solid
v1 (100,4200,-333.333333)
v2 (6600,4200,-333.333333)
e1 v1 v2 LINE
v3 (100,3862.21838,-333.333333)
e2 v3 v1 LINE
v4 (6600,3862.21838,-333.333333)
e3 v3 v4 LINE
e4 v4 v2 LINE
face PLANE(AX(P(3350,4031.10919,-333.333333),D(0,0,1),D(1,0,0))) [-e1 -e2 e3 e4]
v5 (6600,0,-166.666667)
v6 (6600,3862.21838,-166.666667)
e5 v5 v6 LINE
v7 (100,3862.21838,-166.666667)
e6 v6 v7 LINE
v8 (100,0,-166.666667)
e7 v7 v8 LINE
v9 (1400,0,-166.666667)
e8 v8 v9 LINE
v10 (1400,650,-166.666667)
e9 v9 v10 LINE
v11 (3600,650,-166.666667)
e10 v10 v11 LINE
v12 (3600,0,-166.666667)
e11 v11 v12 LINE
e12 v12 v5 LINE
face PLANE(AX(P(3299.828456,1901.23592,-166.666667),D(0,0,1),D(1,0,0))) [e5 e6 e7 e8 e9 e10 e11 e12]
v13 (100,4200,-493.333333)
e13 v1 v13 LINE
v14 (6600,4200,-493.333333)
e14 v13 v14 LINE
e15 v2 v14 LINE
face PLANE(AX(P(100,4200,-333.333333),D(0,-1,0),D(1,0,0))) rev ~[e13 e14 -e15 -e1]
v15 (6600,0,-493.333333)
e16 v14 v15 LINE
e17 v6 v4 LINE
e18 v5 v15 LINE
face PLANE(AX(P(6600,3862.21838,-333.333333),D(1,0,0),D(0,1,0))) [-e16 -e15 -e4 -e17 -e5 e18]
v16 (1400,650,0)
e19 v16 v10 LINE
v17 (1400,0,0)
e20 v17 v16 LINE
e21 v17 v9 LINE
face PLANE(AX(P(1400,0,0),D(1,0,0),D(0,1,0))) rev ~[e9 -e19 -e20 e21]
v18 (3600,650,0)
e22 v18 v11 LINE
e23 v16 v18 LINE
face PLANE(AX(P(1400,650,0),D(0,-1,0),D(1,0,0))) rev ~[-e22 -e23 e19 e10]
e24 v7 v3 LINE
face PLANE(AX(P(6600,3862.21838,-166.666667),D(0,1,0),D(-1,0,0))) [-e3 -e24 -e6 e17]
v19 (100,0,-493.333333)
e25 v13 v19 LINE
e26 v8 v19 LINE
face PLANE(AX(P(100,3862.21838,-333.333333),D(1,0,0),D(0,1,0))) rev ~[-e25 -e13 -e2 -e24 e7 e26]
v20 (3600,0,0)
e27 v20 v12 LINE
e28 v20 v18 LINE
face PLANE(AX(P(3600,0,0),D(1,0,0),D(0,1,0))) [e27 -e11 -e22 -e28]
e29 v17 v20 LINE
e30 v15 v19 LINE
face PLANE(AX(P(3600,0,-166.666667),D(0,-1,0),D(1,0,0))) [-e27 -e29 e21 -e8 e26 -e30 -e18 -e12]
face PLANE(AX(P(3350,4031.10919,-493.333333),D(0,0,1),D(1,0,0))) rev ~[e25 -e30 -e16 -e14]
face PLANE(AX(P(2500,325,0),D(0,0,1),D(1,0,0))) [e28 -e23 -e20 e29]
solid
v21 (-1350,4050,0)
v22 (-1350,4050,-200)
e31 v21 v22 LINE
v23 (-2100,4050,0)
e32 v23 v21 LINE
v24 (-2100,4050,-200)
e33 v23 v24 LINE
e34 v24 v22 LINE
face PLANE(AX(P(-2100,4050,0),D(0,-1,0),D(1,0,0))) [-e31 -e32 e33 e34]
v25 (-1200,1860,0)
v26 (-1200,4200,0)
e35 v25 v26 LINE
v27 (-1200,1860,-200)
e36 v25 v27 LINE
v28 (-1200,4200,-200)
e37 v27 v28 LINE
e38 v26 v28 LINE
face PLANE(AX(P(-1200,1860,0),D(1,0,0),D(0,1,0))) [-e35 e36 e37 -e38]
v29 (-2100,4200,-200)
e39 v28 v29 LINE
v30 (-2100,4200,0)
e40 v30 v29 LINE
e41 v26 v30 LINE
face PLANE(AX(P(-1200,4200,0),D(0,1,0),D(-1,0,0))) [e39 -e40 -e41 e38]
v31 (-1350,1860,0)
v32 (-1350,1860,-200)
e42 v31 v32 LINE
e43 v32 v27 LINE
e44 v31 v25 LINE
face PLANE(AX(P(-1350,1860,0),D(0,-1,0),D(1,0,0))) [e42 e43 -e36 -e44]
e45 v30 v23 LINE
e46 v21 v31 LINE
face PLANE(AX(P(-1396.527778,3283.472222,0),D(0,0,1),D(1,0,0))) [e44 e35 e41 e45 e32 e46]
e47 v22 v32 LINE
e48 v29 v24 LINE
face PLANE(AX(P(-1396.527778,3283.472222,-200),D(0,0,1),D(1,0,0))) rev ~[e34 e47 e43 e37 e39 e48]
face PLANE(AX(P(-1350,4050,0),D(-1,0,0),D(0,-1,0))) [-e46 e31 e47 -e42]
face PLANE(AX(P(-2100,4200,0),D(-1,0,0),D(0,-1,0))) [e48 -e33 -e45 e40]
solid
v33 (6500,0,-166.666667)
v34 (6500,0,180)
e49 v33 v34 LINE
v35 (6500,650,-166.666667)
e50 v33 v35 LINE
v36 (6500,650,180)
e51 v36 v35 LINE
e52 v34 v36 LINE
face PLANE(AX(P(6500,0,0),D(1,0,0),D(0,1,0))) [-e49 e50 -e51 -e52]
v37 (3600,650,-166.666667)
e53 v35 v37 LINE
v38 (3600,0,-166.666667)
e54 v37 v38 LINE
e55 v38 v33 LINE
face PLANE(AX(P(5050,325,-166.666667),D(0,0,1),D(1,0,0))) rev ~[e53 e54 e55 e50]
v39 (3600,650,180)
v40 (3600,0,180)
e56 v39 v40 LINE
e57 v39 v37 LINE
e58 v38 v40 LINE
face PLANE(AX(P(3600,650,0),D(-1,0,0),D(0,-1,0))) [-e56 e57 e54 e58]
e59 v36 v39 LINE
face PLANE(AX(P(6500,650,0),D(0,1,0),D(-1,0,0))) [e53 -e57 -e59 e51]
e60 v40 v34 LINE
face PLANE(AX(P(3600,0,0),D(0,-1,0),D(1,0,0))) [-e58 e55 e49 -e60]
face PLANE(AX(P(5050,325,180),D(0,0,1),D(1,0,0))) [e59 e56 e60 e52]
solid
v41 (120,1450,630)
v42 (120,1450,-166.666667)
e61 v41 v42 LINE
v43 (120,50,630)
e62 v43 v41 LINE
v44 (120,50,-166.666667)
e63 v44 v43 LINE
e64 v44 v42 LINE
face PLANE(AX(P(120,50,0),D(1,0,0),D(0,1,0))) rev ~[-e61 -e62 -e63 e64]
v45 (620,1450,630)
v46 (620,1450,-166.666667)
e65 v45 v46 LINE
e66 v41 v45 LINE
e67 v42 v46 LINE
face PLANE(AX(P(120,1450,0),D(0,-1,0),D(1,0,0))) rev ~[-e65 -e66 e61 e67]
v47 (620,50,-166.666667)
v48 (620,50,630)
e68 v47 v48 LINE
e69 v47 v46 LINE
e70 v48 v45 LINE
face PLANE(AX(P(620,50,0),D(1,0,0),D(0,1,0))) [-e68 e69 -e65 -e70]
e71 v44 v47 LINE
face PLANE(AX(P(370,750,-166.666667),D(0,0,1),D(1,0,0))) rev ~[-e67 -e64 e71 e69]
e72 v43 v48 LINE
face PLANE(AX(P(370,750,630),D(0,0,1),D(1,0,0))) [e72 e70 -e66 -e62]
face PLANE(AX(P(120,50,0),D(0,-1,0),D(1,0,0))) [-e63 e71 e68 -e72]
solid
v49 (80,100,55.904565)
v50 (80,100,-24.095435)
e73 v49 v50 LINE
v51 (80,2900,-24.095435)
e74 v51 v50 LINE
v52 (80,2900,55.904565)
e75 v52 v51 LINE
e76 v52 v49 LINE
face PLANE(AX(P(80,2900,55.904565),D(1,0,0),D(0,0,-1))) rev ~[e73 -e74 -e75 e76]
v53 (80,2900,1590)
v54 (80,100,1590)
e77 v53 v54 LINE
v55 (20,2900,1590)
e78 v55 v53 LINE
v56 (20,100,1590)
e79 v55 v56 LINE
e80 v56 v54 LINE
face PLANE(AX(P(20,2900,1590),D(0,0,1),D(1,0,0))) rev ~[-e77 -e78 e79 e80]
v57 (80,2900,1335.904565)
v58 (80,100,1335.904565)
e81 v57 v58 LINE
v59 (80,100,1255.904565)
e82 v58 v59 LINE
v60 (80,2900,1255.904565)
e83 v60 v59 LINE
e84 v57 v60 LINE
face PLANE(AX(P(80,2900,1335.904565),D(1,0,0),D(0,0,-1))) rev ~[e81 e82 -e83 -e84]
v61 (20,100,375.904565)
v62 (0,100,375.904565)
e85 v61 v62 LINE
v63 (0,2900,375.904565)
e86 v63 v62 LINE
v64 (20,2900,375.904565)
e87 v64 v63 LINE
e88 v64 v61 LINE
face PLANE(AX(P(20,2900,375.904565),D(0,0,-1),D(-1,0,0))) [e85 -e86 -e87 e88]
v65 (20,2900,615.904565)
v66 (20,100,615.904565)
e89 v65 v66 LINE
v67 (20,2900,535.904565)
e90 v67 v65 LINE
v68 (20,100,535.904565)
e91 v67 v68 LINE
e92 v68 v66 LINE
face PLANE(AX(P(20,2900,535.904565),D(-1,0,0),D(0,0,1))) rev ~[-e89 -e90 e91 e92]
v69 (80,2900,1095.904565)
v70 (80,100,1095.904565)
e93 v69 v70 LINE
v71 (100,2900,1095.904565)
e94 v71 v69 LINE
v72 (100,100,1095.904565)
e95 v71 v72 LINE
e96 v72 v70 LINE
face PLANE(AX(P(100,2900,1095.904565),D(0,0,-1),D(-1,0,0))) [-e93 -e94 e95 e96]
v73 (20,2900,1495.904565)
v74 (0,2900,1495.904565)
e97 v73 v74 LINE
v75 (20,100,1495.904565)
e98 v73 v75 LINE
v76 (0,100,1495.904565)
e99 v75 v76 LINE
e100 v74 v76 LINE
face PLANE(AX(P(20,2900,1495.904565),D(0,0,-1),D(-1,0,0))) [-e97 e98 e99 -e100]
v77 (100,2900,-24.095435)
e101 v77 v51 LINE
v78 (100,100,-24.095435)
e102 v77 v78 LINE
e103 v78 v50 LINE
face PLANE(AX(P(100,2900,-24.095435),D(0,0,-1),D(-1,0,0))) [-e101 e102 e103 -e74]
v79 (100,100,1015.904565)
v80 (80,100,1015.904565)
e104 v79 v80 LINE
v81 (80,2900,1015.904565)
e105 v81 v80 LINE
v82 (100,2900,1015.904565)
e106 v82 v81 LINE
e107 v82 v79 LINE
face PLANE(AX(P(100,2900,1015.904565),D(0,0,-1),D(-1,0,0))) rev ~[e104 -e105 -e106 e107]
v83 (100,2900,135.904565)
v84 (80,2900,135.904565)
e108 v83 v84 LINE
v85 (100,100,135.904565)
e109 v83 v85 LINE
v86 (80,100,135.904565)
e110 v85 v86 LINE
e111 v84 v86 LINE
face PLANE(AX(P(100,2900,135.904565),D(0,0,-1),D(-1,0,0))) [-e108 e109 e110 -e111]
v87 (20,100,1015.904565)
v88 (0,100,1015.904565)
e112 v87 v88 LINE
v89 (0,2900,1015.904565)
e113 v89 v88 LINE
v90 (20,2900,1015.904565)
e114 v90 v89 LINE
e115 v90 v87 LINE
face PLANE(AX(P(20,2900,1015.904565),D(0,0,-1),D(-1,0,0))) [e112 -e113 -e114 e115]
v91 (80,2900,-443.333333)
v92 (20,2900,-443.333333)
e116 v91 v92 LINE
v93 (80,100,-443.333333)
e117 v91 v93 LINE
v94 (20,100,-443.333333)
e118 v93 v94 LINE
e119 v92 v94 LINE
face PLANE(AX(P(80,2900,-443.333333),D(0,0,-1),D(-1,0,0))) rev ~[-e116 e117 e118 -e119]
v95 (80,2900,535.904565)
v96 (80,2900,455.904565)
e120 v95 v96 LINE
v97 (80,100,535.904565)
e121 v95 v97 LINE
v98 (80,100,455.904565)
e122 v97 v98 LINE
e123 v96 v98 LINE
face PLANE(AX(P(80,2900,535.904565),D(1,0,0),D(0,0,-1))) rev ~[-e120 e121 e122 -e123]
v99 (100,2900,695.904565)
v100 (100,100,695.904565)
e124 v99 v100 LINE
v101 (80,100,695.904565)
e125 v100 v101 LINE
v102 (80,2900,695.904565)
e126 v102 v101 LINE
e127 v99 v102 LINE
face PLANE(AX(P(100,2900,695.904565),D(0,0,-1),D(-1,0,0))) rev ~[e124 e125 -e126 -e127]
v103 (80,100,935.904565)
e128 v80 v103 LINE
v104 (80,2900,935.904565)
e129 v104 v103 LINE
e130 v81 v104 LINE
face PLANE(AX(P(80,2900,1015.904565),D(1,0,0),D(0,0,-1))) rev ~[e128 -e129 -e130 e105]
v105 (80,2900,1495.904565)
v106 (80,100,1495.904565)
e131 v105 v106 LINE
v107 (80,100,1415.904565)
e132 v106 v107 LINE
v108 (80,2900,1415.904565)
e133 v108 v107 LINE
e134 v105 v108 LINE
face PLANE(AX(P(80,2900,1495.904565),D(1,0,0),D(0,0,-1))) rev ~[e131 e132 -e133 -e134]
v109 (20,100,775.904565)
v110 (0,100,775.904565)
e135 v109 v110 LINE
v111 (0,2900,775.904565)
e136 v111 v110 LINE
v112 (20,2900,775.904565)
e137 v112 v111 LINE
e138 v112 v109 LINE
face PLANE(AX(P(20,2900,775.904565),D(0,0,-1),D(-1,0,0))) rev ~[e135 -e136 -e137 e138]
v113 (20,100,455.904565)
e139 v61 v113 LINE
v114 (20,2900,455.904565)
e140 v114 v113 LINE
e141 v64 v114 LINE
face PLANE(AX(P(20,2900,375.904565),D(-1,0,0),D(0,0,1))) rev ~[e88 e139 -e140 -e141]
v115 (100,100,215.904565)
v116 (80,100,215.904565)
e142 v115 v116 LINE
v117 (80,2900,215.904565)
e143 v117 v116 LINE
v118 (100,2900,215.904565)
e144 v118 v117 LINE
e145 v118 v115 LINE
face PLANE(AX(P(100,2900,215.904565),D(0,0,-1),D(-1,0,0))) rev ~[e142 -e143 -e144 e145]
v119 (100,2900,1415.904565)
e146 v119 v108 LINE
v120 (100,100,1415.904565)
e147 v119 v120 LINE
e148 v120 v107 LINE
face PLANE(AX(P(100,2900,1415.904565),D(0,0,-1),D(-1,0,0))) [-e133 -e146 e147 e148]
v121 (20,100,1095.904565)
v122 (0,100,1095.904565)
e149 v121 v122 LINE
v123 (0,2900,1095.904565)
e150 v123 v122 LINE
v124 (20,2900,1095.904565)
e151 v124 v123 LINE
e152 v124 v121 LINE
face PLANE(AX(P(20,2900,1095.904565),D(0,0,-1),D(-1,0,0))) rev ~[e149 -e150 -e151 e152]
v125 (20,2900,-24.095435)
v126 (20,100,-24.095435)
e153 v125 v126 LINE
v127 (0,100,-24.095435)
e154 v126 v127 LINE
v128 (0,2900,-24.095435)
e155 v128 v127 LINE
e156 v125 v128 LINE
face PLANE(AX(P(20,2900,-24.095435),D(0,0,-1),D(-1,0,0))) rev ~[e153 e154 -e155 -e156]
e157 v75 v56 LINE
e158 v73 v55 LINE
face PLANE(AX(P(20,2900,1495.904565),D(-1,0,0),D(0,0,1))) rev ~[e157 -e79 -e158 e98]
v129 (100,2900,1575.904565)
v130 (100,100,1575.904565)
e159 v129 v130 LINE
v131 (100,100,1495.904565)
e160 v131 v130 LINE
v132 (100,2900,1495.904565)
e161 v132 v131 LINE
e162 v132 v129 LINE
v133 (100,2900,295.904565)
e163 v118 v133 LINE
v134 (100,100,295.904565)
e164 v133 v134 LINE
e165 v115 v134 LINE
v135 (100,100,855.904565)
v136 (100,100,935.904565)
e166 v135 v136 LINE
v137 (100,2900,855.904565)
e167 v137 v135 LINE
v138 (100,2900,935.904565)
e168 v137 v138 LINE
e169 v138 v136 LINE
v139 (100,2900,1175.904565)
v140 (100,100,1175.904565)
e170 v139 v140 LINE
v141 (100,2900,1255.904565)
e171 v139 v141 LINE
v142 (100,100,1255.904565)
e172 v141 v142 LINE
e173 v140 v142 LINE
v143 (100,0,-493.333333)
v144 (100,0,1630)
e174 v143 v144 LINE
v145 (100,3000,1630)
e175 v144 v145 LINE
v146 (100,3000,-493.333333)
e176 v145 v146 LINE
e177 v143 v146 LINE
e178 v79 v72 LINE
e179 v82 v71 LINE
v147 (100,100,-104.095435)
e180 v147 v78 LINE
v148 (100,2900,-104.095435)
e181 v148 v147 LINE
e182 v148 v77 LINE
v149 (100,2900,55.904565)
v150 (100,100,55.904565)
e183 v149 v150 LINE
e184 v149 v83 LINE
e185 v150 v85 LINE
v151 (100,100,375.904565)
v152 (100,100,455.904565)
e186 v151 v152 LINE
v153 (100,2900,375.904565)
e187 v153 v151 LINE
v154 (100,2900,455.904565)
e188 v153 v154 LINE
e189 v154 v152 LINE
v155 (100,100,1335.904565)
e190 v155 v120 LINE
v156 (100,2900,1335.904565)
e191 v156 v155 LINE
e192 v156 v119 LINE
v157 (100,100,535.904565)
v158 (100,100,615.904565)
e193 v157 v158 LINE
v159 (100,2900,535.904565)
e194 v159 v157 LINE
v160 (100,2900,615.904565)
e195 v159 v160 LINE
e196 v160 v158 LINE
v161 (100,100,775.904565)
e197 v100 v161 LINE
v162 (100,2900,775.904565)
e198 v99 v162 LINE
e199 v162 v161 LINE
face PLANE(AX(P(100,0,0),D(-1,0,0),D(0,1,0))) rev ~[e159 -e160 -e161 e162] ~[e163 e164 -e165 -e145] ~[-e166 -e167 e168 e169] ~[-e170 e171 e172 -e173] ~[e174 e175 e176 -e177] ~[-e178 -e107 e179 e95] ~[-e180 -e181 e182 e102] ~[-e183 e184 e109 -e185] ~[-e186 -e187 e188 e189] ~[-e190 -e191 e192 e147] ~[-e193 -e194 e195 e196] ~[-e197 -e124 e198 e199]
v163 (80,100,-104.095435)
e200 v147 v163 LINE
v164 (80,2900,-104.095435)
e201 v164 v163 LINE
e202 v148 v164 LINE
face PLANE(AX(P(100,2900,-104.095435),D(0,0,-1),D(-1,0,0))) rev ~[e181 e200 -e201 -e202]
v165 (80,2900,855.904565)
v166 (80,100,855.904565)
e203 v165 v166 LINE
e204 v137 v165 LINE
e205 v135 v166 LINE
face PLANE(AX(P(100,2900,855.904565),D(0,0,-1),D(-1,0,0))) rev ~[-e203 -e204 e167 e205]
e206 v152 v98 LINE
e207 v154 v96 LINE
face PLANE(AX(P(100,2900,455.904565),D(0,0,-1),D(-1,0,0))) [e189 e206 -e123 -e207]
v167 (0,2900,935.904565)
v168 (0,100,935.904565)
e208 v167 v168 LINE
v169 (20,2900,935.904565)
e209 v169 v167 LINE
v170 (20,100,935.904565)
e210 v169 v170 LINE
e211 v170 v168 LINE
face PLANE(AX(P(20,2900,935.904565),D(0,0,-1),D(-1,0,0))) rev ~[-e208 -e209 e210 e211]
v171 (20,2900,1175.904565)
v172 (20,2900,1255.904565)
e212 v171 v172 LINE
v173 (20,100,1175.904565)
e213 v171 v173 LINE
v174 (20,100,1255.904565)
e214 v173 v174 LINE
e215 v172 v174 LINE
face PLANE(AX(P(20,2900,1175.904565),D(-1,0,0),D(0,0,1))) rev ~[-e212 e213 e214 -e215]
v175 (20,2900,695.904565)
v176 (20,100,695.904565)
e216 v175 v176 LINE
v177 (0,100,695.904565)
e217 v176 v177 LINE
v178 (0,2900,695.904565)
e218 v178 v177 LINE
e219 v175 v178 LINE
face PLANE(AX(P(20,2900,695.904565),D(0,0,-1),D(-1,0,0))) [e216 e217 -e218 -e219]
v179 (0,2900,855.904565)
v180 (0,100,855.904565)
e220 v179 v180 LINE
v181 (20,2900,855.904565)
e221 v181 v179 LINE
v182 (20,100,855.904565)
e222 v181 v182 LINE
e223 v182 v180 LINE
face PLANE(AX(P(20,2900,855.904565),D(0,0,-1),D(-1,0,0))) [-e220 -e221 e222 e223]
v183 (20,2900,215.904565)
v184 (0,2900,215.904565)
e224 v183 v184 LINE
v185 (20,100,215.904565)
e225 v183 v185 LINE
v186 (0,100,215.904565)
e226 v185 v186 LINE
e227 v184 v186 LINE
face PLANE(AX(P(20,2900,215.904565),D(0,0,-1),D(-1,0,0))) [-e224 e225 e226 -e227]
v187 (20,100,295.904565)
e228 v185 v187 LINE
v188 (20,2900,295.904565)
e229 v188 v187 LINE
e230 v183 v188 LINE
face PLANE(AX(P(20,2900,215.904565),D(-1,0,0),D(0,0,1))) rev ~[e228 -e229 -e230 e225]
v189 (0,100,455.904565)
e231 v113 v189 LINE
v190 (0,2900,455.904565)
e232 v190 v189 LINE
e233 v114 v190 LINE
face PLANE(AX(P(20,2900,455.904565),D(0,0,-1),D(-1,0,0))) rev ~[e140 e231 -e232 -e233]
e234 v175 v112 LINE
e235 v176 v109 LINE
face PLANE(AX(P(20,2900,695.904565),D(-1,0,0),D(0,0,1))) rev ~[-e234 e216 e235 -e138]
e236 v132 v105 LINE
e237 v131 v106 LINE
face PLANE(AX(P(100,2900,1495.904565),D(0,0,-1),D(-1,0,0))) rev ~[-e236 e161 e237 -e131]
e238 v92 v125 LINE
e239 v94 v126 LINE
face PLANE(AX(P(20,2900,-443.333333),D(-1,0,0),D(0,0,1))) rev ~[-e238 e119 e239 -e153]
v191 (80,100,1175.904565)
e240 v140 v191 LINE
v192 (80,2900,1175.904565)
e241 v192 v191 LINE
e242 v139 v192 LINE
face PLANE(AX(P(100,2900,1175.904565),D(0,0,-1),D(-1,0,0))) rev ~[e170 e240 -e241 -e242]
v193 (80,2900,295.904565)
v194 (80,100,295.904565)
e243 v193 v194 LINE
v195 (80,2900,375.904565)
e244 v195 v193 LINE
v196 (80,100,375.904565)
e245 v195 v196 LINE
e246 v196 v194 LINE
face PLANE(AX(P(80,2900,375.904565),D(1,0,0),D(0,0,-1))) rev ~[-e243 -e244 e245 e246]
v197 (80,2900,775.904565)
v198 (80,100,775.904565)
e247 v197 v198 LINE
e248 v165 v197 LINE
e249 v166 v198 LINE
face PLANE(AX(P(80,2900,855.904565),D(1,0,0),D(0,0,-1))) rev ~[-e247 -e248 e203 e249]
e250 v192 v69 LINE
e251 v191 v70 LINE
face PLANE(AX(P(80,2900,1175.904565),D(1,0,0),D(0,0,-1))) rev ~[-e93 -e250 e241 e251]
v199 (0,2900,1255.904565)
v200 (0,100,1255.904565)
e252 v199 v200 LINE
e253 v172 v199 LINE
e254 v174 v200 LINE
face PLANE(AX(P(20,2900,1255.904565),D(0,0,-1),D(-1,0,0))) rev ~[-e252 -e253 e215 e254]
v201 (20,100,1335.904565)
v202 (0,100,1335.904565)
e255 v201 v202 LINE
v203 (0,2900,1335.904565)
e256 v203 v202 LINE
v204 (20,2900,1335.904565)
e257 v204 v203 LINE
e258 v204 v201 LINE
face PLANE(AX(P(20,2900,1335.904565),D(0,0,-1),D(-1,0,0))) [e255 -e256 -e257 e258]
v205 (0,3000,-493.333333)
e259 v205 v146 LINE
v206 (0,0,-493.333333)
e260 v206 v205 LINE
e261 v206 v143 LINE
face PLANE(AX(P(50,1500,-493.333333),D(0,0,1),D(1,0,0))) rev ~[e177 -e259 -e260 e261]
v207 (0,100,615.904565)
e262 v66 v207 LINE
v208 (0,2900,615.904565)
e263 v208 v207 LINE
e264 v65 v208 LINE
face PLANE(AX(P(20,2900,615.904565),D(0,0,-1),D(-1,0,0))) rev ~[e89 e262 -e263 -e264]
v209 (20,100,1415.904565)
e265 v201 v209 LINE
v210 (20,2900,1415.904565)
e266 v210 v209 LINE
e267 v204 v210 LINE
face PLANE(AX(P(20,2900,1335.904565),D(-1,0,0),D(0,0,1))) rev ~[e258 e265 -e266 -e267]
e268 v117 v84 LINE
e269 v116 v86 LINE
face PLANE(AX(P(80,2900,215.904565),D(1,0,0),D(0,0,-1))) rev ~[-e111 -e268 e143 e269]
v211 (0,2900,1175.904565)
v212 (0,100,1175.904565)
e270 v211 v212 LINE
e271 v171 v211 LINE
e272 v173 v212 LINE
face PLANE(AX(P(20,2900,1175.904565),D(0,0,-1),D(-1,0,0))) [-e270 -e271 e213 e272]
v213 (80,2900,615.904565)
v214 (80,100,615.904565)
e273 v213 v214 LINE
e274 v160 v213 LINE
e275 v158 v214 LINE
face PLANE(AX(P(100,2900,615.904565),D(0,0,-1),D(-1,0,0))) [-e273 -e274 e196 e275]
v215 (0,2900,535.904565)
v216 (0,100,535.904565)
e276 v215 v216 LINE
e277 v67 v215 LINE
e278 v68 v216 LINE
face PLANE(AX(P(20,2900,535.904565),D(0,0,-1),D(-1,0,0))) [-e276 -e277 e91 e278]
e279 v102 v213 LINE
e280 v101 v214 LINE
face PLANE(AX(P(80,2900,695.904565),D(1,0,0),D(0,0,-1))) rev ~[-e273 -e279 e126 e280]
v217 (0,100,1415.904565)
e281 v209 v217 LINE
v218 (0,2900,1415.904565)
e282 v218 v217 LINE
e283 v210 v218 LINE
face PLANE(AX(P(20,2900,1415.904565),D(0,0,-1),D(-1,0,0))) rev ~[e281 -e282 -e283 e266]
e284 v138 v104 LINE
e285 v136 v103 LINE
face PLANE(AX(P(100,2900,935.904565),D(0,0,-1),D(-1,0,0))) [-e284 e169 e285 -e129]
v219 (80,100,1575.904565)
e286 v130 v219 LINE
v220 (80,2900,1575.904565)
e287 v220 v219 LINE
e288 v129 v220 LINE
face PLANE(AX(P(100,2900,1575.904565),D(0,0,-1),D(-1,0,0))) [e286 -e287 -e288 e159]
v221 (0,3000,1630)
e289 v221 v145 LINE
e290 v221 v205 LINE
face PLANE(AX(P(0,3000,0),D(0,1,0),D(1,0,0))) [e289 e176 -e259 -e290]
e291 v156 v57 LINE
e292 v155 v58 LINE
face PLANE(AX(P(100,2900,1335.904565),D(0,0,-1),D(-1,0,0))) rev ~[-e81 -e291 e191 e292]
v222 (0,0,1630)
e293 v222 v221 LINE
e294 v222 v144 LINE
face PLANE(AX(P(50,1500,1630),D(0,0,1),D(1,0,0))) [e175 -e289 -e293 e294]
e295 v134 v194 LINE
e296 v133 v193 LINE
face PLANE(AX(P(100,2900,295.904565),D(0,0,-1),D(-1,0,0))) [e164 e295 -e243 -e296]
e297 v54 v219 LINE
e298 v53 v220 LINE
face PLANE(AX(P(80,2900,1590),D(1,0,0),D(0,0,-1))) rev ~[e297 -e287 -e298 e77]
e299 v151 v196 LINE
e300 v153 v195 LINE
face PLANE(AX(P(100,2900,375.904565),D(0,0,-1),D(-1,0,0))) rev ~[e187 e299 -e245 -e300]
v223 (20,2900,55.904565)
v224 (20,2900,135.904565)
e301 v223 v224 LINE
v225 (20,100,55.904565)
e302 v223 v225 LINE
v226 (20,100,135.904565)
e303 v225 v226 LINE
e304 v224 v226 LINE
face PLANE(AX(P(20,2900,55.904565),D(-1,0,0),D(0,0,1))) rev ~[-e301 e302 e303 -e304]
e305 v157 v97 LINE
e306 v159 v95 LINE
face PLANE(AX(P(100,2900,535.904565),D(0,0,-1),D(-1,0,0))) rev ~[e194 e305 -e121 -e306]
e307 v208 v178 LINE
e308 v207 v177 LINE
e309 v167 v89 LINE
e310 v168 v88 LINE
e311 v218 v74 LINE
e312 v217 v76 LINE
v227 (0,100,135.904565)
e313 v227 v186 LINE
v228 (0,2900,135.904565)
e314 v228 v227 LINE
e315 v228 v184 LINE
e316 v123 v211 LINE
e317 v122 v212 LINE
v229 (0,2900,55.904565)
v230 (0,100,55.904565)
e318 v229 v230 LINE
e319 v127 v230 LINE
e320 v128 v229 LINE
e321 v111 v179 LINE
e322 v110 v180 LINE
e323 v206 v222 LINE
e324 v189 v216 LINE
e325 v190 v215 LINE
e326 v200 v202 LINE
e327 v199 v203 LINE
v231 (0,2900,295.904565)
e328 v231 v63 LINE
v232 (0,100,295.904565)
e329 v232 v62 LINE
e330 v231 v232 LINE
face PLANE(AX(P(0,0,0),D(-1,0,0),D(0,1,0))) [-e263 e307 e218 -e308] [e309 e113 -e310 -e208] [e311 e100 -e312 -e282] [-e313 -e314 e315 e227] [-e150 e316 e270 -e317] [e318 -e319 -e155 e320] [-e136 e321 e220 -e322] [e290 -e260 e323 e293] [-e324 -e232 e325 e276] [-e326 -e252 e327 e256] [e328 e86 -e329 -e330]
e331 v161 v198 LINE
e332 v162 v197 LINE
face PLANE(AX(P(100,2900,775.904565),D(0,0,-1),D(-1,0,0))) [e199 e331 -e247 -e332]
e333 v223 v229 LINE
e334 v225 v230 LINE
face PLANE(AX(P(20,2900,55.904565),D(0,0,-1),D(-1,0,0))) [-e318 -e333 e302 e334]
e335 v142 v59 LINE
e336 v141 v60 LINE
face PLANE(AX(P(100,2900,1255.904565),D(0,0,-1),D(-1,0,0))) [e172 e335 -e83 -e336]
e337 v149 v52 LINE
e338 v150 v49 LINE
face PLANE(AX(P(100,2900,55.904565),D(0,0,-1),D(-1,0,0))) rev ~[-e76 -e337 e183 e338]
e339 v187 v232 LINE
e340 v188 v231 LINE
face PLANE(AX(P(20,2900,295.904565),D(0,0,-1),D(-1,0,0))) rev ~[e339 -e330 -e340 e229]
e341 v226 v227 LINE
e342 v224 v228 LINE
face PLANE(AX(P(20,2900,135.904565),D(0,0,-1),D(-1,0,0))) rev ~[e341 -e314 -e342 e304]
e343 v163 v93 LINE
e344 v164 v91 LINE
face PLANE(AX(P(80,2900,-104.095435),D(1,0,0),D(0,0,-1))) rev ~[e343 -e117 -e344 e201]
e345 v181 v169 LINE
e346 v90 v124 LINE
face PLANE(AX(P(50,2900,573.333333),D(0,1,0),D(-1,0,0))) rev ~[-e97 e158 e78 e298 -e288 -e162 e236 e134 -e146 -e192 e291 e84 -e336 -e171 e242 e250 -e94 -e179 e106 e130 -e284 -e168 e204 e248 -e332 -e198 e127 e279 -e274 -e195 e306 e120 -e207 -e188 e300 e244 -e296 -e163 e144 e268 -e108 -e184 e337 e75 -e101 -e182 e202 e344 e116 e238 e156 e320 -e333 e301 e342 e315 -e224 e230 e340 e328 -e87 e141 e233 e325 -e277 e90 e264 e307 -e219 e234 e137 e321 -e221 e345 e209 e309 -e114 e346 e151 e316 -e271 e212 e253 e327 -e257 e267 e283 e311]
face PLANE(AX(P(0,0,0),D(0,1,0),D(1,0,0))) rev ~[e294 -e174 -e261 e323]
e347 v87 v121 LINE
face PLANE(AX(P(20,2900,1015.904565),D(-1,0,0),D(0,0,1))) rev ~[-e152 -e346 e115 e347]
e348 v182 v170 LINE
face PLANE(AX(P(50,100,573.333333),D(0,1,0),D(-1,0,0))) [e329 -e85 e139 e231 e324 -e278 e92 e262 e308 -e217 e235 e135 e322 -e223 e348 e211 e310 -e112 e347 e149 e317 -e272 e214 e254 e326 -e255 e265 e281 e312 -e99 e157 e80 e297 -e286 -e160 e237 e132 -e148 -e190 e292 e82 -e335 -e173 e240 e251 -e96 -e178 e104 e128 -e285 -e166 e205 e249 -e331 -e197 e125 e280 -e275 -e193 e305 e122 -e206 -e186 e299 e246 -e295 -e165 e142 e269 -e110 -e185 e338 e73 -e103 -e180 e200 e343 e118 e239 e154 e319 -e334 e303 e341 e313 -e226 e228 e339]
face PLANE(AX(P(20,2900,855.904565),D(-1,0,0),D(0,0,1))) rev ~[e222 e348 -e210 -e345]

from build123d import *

# Parameters (mm, degrees)
F2_DEPTH       = 200
F8_W           = 2200
F8_H           = 650
F9_DEPTH       = 493.3333333333
F12_DEPTH      = 326.6666666667
F13_W          = 6500
F13_H          = 337.7816200256
F14_DEPTH      = 160
F16_DEPTH      = 180
F16_DEPTH_BACK = 166.6666666667
F17_W          = 100
F17_H          = 3000
F18_DEPTH      = 493.3333333333
F18_DEPTH_BACK = 1630
F15_W          = 500
F15_H          = 1400
F19_DEPTH      = 630
F19_DEPTH_BACK = 166.6666666667
F22_START      = -100
F21_W          = 20
F21_H          = 80
F22_DEPTH      = 2800


with BuildPart() as f2:
    # F1 (on Top) → F2 (new body)
    with BuildSketch(Plane.XY):
        Polygon((-1200, 4200), (-2100, 4200), (-2100, 4050), (-1350, 4050), (-1350, 1860), (-1200, 1860), align=None)
    extrude(amount=-F2_DEPTH)


with BuildPart() as f9:
    # F8 (on Top) → F9 (new body, through all)
    with BuildSketch(Plane.XY):
        with Locations((2500, 325)):
            Rectangle(F8_W, F8_H)
    extrude(amount=-F9_DEPTH)

    # F11 (on offset) → F12 (join, through all)
    with BuildSketch(Plane.XY.offset(-166.6666666667)):
        Polygon((6600, 3862.2183799744), (100, 3862.2183799744), (100, 0), (1400, 0), (1400, 650), (3600, 650), (3600, 0), (6600, 0), align=None)
    extrude(amount=-F12_DEPTH)

    # F13 (on offset) → F14 (join)
    with BuildSketch(Plane.XY.offset(-333.3333333333)):
        with Locations((3350, 4031.1091899872)):
            Rectangle(F13_W, F13_H)
    extrude(amount=-F14_DEPTH)


with BuildPart() as f16:
    # F15 (on Top) → F16 (new body, two sides)
    with BuildSketch(Plane.XY) as f16_sk:
        Polygon((3600, 650), (3600, 0), (6500, 0), (6500, 650), (5870, 650), align=None)
    extrude(amount=F16_DEPTH)
    extrude(f16_sk.sketch, amount=-F16_DEPTH_BACK)


with BuildPart() as f18:
    # F17 (on Top) → F18 (new body, two sides)
    with BuildSketch(Plane.XY) as f18_sk:
        with Locations((50, 1500)):
            Rectangle(F17_W, F17_H)
    extrude(amount=-F18_DEPTH)
    extrude(f18_sk.sketch, amount=F18_DEPTH_BACK)

    # F21 (on face) → F22 (cut)
    with BuildSketch(Plane(origin=(0, 3000, 0), x_dir=(-1, 0, 0), z_dir=(0, 1, 0)).offset(F22_START)):
        Polygon((-20, 1590), (-80, 1590), (-80, 1575.9045648575), (-80, 1495.9045648575), (-80, 1415.9045648575), (-80, 1335.9045648575), (-80, 1255.9045648575), (-80, 1175.9045648575), (-80, 1095.9045648575), (-80, 1015.9045648575), (-80, 935.9045648575), (-80, 855.9045648575), (-80, 775.9045648575), (-80, 695.9045648575), (-80, 615.9045648575), (-80, 535.9045648575), (-80, 455.9045648575), (-80, 375.9045648575), (-80, 295.9045648575), (-80, 215.9045648575), (-80, 135.9045648575), (-80, 55.9045648575), (-80, -24.0954351425), (-80, -104.0954351425), (-80, -443.3333333333), (-20, -443.3333333333), (-20, -24.0954351425), (-20, 55.9045648575), (-20, 135.9045648575), (-20, 215.9045648575), (-20, 295.9045648575), (-20, 375.9045648575), (-20, 455.9045648575), (-20, 535.9045648575), (-20, 615.9045648575), (-20, 695.9045648575), (-20, 775.9045648575), (-20, 855.9045648575), (-20, 935.9045648575), (-20, 1015.9045648575), (-20, 1095.9045648575), (-20, 1175.9045648575), (-20, 1255.9045648575), (-20, 1335.9045648575), (-20, 1415.9045648575), (-20, 1495.9045648575), align=None)
        with Locations((-90, 1535.9045648575)):
            Rectangle(F21_W, F21_H)
        with Locations((-10, 1455.9045648575)):
            Rectangle(F21_W, F21_H)
        with Locations((-90, 1375.9045648575)):
            Rectangle(F21_W, F21_H)
        with Locations((-10, 1295.9045648575)):
            Rectangle(F21_W, F21_H)
        with Locations((-90, 1215.9045648575)):
            Rectangle(F21_W, F21_H)
        with Locations((-10, 1135.9045648575)):
            Rectangle(F21_W, F21_H)
        with Locations((-90, 1055.9045648575)):
            Rectangle(F21_W, F21_H)
        with Locations((-10, 975.9045648575)):
            Rectangle(F21_W, F21_H)
        with Locations((-90, 895.9045648575)):
            Rectangle(F21_W, F21_H)
        with Locations((-10, 815.9045648575)):
            Rectangle(F21_W, F21_H)
        with Locations((-90, 735.9045648575)):
            Rectangle(F21_W, F21_H)
        with Locations((-10, 655.9045648575)):
            Rectangle(F21_W, F21_H)
        with Locations((-90, 575.9045648575)):
            Rectangle(F21_W, F21_H)
        with Locations((-10, 495.9045648575)):
            Rectangle(F21_W, F21_H)
        with Locations((-90, 415.9045648575)):
            Rectangle(F21_W, F21_H)
        with Locations((-10, 335.9045648575)):
            Rectangle(F21_W, F21_H)
        with Locations((-90, 255.9045648575)):
            Rectangle(F21_W, F21_H)
        with Locations((-10, 175.9045648575)):
            Rectangle(F21_W, F21_H)
        with Locations((-90, 95.9045648575)):
            Rectangle(F21_W, F21_H)
        with Locations((-10, 15.9045648575)):
            Rectangle(F21_W, F21_H)
        with Locations((-90, -64.0954351425)):
            Rectangle(F21_W, F21_H)
    extrude(amount=-F22_DEPTH, mode=Mode.SUBTRACT)


with BuildPart() as f19:
    # F15 (on Top) → F19 (new body, two sides)
    with BuildSketch(Plane.XY) as f19_sk:
        with Locations((370, 750)):
            Rectangle(F15_W, F15_H)
    extrude(amount=F19_DEPTH)
    extrude(f19_sk.sketch, amount=-F19_DEPTH_BACK)


solid = Compound([f2.part, f9.part, f16.part, f18.part, f19.part])
